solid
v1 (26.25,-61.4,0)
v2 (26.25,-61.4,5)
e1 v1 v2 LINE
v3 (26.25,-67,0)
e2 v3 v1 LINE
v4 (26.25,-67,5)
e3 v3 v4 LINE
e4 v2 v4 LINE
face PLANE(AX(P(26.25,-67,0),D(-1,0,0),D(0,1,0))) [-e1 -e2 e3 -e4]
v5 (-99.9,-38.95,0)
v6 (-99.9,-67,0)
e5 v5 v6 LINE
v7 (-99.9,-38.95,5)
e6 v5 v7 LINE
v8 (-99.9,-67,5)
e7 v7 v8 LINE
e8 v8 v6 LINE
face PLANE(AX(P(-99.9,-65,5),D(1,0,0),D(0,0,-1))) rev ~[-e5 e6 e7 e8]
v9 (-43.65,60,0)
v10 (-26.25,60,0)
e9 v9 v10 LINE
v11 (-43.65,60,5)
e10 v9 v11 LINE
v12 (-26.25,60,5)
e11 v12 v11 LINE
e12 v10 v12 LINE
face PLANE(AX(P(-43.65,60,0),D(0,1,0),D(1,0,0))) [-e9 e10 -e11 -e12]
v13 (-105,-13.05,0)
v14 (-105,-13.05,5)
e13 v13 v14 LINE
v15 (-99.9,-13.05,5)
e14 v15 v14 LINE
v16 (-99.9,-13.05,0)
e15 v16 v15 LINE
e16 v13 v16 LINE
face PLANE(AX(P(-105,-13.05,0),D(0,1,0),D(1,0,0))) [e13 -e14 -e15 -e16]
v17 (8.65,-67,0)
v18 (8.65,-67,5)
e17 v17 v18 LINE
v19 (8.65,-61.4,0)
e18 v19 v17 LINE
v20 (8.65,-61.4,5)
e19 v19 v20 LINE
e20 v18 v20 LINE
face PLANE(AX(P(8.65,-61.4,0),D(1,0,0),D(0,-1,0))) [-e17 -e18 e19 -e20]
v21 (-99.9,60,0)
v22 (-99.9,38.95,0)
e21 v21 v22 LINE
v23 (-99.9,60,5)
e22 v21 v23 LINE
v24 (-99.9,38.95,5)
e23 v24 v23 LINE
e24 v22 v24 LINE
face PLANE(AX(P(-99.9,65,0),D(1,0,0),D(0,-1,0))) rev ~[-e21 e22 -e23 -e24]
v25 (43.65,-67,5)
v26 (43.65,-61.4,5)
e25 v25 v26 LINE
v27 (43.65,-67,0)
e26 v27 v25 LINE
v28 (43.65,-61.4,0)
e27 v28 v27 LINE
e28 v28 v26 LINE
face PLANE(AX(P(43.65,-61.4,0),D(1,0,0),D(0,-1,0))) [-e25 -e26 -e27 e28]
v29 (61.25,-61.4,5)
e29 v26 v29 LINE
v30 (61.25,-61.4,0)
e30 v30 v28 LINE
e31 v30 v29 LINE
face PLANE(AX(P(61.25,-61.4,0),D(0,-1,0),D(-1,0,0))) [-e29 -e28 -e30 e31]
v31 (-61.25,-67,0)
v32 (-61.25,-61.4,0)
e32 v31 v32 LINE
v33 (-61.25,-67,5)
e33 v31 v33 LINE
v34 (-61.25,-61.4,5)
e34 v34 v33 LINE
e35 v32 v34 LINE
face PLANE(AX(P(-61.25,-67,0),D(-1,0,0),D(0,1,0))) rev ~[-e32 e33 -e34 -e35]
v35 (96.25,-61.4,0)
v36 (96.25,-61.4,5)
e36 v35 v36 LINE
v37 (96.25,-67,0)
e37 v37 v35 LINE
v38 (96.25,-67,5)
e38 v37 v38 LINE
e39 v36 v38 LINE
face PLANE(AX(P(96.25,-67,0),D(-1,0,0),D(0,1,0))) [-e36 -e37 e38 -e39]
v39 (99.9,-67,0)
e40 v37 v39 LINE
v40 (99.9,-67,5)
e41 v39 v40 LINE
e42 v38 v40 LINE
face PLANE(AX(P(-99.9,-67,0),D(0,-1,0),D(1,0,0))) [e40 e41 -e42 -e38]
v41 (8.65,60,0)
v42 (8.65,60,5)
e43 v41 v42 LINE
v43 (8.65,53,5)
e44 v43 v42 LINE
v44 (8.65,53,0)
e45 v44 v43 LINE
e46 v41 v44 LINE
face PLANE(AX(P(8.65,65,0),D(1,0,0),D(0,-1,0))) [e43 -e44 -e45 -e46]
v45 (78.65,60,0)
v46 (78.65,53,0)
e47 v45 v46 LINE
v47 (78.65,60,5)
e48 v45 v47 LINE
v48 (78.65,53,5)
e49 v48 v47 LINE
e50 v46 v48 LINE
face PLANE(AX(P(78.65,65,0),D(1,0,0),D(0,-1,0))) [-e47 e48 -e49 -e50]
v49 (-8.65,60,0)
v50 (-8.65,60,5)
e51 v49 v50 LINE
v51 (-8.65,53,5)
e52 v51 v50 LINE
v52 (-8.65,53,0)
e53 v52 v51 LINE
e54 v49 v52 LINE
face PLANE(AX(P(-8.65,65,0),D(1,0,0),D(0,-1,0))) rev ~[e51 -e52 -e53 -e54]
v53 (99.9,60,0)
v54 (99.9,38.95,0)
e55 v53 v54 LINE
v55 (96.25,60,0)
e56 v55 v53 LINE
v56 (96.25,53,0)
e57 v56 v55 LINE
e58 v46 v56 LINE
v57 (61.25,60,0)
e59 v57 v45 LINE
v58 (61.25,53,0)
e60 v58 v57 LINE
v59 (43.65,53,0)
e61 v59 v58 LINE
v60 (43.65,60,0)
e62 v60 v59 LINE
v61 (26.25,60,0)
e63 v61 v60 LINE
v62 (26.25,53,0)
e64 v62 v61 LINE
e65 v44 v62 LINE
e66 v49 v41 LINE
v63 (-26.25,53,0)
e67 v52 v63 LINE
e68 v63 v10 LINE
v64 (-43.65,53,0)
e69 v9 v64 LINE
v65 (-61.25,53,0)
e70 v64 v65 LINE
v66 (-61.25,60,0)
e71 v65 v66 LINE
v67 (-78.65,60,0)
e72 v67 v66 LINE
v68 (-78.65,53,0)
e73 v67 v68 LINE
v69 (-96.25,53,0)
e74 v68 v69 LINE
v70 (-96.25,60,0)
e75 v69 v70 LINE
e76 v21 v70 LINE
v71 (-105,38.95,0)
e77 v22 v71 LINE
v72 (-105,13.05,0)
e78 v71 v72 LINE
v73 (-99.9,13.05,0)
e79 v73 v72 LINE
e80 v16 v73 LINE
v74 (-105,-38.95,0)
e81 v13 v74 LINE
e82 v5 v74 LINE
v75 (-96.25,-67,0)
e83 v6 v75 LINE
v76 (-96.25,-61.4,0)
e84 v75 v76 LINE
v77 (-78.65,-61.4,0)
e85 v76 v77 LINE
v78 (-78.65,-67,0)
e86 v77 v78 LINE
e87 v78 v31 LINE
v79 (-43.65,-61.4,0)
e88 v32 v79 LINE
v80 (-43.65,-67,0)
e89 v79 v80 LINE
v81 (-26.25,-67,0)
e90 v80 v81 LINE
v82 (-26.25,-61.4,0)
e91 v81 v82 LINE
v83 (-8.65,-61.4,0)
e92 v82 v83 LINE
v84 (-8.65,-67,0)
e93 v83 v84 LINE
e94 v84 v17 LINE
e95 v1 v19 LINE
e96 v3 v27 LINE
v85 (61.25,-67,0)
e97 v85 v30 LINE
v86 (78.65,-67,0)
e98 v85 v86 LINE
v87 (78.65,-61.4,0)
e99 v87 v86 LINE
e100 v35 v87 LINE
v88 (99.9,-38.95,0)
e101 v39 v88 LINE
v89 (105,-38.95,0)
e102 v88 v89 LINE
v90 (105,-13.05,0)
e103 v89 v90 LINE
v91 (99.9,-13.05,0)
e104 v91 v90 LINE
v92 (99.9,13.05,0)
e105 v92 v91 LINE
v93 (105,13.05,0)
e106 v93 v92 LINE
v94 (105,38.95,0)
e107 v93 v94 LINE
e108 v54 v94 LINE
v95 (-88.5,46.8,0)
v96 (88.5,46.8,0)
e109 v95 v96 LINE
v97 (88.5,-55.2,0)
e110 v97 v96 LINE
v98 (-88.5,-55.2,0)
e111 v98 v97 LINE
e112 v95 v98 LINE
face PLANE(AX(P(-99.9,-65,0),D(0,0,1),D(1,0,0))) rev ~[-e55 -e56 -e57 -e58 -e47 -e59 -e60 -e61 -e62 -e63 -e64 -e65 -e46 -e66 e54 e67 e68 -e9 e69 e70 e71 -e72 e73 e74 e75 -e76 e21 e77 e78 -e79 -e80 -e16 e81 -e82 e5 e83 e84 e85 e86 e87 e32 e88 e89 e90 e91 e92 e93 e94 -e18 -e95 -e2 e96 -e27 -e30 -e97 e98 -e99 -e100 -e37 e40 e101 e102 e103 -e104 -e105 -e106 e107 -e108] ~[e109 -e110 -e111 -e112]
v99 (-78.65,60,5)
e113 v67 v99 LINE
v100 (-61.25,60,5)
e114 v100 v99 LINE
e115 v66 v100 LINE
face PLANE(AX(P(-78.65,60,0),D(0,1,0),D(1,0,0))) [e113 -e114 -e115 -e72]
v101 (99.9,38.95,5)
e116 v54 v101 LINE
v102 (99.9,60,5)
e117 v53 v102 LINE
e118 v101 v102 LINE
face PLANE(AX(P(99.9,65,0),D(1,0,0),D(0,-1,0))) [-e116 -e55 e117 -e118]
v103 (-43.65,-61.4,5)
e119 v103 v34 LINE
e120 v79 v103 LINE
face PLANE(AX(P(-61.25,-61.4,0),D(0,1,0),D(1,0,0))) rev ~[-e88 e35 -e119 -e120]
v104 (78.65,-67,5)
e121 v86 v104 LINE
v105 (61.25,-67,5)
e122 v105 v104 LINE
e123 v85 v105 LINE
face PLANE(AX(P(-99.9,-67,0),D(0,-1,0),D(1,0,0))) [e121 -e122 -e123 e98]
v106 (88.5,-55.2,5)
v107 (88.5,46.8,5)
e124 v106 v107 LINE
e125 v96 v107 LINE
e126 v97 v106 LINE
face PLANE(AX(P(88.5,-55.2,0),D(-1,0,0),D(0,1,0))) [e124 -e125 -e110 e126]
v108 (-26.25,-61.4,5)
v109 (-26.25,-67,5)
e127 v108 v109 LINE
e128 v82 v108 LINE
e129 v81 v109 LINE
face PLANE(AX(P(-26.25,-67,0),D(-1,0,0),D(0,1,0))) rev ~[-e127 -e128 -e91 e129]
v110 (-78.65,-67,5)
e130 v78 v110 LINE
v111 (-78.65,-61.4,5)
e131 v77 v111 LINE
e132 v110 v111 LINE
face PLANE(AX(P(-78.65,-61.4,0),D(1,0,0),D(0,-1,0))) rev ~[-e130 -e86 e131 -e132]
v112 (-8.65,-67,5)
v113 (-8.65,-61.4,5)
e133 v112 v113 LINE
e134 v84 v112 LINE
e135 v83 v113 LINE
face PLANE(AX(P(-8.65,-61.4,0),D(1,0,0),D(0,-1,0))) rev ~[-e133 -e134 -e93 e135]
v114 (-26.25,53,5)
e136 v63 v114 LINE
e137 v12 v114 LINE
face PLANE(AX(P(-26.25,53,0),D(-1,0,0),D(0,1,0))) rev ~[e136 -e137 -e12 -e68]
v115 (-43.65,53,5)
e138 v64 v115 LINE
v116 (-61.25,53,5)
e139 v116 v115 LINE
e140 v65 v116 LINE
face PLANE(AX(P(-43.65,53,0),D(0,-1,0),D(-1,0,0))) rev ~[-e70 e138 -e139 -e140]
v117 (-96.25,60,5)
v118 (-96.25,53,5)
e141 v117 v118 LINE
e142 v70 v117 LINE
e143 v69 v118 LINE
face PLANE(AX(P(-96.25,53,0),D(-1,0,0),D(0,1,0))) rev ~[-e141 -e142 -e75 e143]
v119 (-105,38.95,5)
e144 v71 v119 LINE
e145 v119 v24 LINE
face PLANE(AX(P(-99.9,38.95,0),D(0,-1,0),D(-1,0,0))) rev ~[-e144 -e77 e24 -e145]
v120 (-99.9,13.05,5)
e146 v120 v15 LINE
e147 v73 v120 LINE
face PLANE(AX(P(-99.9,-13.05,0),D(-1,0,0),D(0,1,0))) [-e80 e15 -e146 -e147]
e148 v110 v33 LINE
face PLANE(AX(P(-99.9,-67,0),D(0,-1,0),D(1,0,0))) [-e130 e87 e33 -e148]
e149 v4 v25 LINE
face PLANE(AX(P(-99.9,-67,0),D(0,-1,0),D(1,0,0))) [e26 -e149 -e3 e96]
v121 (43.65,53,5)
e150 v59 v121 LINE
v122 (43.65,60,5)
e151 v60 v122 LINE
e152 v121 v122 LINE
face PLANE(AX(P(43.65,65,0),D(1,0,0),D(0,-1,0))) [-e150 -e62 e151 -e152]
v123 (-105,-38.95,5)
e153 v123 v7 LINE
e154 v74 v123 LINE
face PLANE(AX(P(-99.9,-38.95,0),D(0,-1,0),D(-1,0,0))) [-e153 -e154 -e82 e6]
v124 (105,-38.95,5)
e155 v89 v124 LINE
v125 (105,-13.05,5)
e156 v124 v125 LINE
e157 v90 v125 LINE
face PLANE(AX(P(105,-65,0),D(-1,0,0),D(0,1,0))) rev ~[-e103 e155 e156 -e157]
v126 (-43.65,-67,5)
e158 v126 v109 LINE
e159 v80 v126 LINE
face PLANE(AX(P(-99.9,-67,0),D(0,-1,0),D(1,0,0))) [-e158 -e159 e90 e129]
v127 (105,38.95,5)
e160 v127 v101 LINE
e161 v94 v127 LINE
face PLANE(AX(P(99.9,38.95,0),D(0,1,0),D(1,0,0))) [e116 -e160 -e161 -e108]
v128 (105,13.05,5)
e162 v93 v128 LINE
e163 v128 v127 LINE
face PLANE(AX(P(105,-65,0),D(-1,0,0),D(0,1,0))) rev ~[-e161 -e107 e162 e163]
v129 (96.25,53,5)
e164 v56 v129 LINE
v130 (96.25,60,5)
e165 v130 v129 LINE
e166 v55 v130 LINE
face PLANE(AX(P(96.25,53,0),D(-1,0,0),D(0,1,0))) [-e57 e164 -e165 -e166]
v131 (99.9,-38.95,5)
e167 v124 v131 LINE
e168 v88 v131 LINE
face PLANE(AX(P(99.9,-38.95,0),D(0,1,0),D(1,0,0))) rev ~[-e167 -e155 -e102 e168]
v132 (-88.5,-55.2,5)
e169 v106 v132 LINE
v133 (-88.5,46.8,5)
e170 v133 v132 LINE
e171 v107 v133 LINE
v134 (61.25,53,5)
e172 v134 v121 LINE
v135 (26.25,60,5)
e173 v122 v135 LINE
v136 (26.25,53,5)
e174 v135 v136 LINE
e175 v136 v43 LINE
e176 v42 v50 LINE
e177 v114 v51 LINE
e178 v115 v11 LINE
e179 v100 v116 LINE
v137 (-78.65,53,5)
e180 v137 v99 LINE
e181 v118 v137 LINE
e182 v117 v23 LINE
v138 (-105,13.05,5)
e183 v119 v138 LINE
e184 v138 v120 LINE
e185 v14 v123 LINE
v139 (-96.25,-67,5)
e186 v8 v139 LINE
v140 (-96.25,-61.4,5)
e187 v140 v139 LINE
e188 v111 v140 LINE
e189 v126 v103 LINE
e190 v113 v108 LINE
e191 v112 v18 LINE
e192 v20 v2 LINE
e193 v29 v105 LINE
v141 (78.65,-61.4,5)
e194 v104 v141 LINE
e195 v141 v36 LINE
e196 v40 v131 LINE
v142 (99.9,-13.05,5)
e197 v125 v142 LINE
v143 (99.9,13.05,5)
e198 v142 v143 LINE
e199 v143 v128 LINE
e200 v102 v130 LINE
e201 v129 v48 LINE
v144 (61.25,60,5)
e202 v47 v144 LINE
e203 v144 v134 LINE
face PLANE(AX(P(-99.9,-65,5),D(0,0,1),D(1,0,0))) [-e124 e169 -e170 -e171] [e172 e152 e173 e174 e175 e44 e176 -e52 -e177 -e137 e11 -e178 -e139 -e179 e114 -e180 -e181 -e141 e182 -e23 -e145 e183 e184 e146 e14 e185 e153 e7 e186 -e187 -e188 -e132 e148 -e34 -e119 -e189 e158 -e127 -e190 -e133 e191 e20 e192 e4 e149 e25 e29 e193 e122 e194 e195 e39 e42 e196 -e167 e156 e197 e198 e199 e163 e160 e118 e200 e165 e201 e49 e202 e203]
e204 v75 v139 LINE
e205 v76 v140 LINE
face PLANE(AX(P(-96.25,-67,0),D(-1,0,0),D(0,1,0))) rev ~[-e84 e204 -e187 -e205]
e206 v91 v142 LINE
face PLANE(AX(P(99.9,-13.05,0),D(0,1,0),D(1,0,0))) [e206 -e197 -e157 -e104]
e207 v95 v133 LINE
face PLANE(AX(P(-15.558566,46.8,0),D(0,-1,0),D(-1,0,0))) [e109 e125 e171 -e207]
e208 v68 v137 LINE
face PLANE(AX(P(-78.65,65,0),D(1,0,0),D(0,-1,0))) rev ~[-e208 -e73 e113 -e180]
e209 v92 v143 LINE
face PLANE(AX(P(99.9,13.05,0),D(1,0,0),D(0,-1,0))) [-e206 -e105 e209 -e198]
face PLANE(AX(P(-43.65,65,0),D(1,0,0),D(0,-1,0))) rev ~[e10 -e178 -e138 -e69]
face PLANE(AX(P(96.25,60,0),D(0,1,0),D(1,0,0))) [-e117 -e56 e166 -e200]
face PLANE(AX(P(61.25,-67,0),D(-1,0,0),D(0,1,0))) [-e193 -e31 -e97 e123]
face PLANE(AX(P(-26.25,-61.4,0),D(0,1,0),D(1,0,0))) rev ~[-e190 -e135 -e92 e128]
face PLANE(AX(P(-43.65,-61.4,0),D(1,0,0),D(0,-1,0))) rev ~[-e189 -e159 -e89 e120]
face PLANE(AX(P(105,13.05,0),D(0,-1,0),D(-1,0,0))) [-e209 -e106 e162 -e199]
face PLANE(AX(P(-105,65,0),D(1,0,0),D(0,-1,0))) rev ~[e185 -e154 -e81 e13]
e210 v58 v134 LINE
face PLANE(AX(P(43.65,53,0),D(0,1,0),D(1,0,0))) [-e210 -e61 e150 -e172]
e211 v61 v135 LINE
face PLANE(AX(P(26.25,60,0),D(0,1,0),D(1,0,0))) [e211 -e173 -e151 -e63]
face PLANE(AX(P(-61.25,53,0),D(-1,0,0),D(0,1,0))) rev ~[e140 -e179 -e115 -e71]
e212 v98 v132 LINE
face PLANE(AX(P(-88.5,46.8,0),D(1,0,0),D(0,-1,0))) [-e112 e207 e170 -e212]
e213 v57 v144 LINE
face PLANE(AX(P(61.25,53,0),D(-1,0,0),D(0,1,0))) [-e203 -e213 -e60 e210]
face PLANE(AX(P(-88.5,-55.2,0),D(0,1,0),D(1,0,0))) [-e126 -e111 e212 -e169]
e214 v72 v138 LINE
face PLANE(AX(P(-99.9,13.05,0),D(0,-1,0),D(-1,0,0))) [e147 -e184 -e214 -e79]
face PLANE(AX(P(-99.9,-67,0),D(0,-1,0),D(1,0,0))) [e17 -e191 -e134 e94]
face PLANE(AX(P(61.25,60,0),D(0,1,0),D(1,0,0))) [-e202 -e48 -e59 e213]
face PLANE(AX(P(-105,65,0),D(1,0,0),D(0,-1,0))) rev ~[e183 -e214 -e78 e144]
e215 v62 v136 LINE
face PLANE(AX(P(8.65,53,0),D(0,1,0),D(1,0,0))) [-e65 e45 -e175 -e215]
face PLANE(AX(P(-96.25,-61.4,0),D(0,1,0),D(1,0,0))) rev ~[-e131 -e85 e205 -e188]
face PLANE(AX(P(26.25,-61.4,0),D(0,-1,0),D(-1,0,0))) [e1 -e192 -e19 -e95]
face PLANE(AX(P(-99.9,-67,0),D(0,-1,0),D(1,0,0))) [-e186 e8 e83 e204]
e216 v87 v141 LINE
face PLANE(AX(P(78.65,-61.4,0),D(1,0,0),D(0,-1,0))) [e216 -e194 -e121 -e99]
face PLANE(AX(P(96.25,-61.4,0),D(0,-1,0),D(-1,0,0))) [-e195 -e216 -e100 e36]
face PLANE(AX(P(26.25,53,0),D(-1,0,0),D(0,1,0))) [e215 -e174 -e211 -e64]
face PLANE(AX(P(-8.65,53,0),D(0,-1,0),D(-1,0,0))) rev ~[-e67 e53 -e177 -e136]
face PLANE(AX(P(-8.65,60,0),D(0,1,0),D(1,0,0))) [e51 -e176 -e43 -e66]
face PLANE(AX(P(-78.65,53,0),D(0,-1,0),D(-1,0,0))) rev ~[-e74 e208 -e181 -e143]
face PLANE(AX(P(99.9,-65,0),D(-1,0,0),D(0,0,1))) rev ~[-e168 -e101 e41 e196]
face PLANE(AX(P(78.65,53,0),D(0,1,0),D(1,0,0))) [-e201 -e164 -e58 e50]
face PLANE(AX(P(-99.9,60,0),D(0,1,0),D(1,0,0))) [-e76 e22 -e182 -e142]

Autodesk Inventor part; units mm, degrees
ref_plane "YZ Plane" through (0, 0, 0) normal (1, 0, 0) x (0, 1, 0)
ref_plane "XZ Plane" through (0, 0, 0) normal (0, 1, 0) x (-1, 0, 0)
ref_plane "XY Plane" through (0, 0, 0) normal (0, 0, 1) x (1, 0, 0)
sketch "Sketch1" plane through (0, 0, 0) normal (0, 0, 1) x (1, 0, 0)
  line L0 (-105, -65) -> (105, -65)
  line L1 (105, -65) -> (105, 65)
  line L2 (105, 65) -> (-105, 65)
  line L3 (-105, 65) -> (-105, -65)
  line L4 (-105, -65) -> (105, 65) construction
  line L5 (105, -65) -> (-105, 65) construction
  line L6 (-88.5, -51) -> (88.5, -51)
  line L7 (88.5, -51) -> (88.5, 51)
  line L8 (88.5, 51) -> (-88.5, 51)
  line L9 (-88.5, 51) -> (-88.5, -51)
  line L10 (-88.5, -51) -> (88.5, 51) construction
  line L11 (88.5, -51) -> (-88.5, 51) construction
  point P0 (0, 0)
  point P1 (-105, 0)
  dimension "d0" = 177
  dimension "d1" = 102
  dimension "d2" = 130
  dimension "d3" = 210
extrude "Extrusion1" add sketch "Sketch1" along normal blind 5 contours L3 L2 L1 L0 | L9 L8 L7 L6
sketch "Sketch2" plane through (0, 0, 5) normal (0, 0, 1) x (1, 0, 0)
  line L0 (-90, -50) -> (-80, -50) construction
  line L1 (-80, -50) -> (-80, 50)
  line L2 (-80, 50) -> (-90, 50) construction
  line L3 (-90, 50) -> (-90, -50)
  line L4 (-90, -50) -> (-80, 50) construction
  line L5 (-80, -50) -> (-90, 50) construction
  line L6 (-105, 65) -> (-105, -65) construction
  line L7 (-88.5, -51) -> (-88.5, 51) construction
  arc A0 (-80, 50) -> (-90, 50) centre (-85, 50) ccw
  arc A1 (-90, -50) -> (-80, -50) centre (-85, -50) ccw
  point P0 (0, 0)
  point P1 (-85, 0)
  dimension "d6" = 10
  dimension "d7" = 100
  dimension "d10" = 20
extrude "Extrusion2" [suppressed]
mirror "Mirror1" [suppressed]
sketch "Sketch3" plane through (0, 0, 0) normal (0, 0, -1) x (-1, 0, 0)
  line L0 (105, -65) -> (99.9, -65)
  line L1 (99.9, -65) -> (99.9, -38.95)
  line L2 (99.9, -38.95) -> (105, -38.95)
  line L3 (105, -38.95) -> (105, -65)
  line L4 (105, -13.05) -> (99.9, -13.05)
  line L5 (99.9, -13.05) -> (99.9, 13.05)
  line L6 (99.9, 13.05) -> (105, 13.05)
  line L7 (105, 13.05) -> (105, -13.05)
  line L8 (105, 65) -> (99.9, 65)
  line L9 (99.9, 65) -> (99.9, 38.95)
  line L10 (99.9, 38.95) -> (105, 38.95)
  line L11 (105, 38.95) -> (105, 65)
  line L12 (-105, -65) -> (-105, 65) projected
  line L13 (-105, 65) -> (-99.9, 65)
  line L14 (-99.9, 65) -> (-99.9, 38.95)
  line L15 (-99.9, 38.95) -> (-105, 38.95)
  line L16 (-105, 38.95) -> (-105, 65)
  line L17 (-105, 13.05) -> (-99.9, 13.05)
  line L18 (-99.9, 13.05) -> (-99.9, -13.05)
  line L19 (-99.9, -13.05) -> (-105, -13.05)
  line L20 (-105, -13.05) -> (-105, 13.05)
  line L21 (-105, -65) -> (-99.9, -65)
  line L22 (-99.9, -65) -> (-99.9, -38.95)
  line L23 (-99.9, -38.95) -> (-105, -38.95)
  line L24 (-105, -38.95) -> (-105, -65)
  line L25 (105, -65) -> (-105, -65) projected
  line L26 (-105, 65) -> (105, 65) projected
  point P0 (0, 0)
  point P1 (-105, 0)
  point P2 (-105, -13.05)
  dimension "d13" = 130
  dimension "d14" = 26.05
  dimension "d15" = 26.1
  dimension "d16" = 5.1
extrude "Extrusion3" cut sketch "Sketch3" against normal blind 10
sketch "Sketch4" plane through (-99.9, -65, 0) normal (0, -1, 0) x (1, 0, 0)
  line L0 (0, 5) -> (0, 0) projected
  line L1 (0, 0) -> (199.8, 0) projected
  line L2 (199.8, 0) -> (199.8, 5) projected
  line L3 (0, 5) -> (199.8, 5) projected
  point P0 (99.9, 0)
extrude "Extrusion4" add sketch "Sketch4" along normal blind 2
sketch "Sketch5" plane through (0, 0, 0) normal (0, 0, -1) x (-1, 0, 0)
  line L0 (99.9, 38.95) -> (99.9, 65) projected
  line L1 (-99.9, 65) -> (99.9, 65) projected
  line L2 (-99.9, 65) -> (-99.9, 38.95) projected
  line L3 (-99.9, 38.95) -> (-105, 38.95) projected
  line L4 (-105, 13.05) -> (-105, 38.95) projected
  line L5 (-105, 13.05) -> (-99.9, 13.05) projected
  line L6 (-99.9, 13.05) -> (-99.9, -13.05) projected
  line L7 (-99.9, -13.05) -> (-105, -13.05) projected
  line L8 (-105, -38.95) -> (-105, -13.05) projected
  line L9 (-105, -38.95) -> (-99.9, -38.95) projected
  line L10 (-99.9, -38.95) -> (-99.9, -67) projected
  line L11 (99.9, -67) -> (99.9, -38.95) projected
  line L12 (99.9, -38.95) -> (105, -38.95) projected
  line L13 (105, -13.05) -> (105, -38.95) projected
  line L14 (105, -13.05) -> (99.9, -13.05) projected
  line L15 (99.9, -13.05) -> (99.9, 13.05) projected
  line L16 (99.9, 13.05) -> (105, 13.05) projected
  line L17 (105, 38.95) -> (105, 13.05) projected
  line L18 (105, 38.95) -> (99.9, 38.95) projected
  line L19 (8.65, -67) -> (26.25, -67)
  line L20 (26.25, -67) -> (26.25, -61.4)
  line L21 (26.25, -61.4) -> (8.65, -61.4)
  line L22 (8.65, -61.4) -> (8.65, -67)
  line L23 (43.65, -61.4) -> (43.65, -67)
  line L24 (43.65, -67) -> (61.25, -67)
  line L25 (61.25, -61.4) -> (43.65, -61.4)
  line L26 (61.25, -67) -> (61.25, -61.4)
  line L27 (78.65, -61.4) -> (78.65, -67)
  line L28 (78.65, -67) -> (96.25, -67)
  line L29 (96.25, -61.4) -> (78.65, -61.4)
  line L30 (96.25, -67) -> (96.25, -61.4)
  line L31 (0, 0) -> (0, -124.7) construction
  line L32 (150.9327, -2.5) -> (-150.9327, -2.5) construction
  line L33 (-8.65, -67) -> (-26.25, -67)
  line L34 (-26.25, -67) -> (-26.25, -61.4)
  line L35 (-26.25, -61.4) -> (-8.65, -61.4)
  line L36 (-8.65, -61.4) -> (-8.65, -67)
  line L37 (-43.65, -61.4) -> (-43.65, -67)
  line L38 (-43.65, -67) -> (-61.25, -67)
  line L39 (-61.25, -61.4) -> (-43.65, -61.4)
  line L40 (-61.25, -67) -> (-61.25, -61.4)
  line L41 (-78.65, -61.4) -> (-78.65, -67)
  line L42 (-78.65, -67) -> (-96.25, -67)
  line L43 (-96.25, -61.4) -> (-78.65, -61.4)
  line L44 (-96.25, -67) -> (-96.25, -61.4)
  line L45 (99.9, -67) -> (-99.9, -67) projected
  line L46 (99.9, -67) -> (-99.9, -67) projected
  point P0 (17.45, -61.4)
  point P1 (52.45, -61.4)
  point P2 (87.45, -61.4)
  point P3 (0, -2.5)
  point P4 (-17.45, -61.4)
  point P5 (-52.45, -61.4)
  point P6 (-87.45, -61.4)
  dimension "d21" = 210
  dimension "d22" = 17.45
  dimension "d23" = 17.6
  dimension "d24" = 5.6
  dimension "d27" = 35
extrude "Extrusion5" cut sketch "Sketch5" against normal through all contours L28 L27 L29 L30 | L24 L23 L25 L26 | L44 L43 L41 L42 | L19 L22 L21 L20 | L40 L39 L37 L38 | L33 L34 L35 L36
sketch "Sketch7" plane through (0, 0, 0) normal (0, 0, -1) x (-1, 0, 0)
  line L0 (99.9, 53) -> (-99.9, 53) construction
  line L1 (8.65, 53) -> (26.25, 53)
  line L2 (26.25, 53) -> (26.25, 65)
  line L3 (26.25, 65) -> (8.65, 65)
  line L4 (8.65, 65) -> (8.65, 53)
  line L5 (43.65, 65) -> (43.65, 53)
  line L6 (43.65, 53) -> (61.25, 53)
  line L7 (61.25, 65) -> (43.65, 65)
  line L8 (61.25, 53) -> (61.25, 65)
  line L9 (78.65, 65) -> (78.65, 53)
  line L10 (78.65, 53) -> (96.25, 53)
  line L11 (96.25, 65) -> (78.65, 65)
  line L12 (96.25, 53) -> (96.25, 65)
  line L13 (99.9, 38.95) -> (99.9, 65) projected
  line L14 (-99.9, 65) -> (-99.9, 38.95) projected
  line L15 (-99.9, 65) -> (99.9, 65) projected
  line L16 (0, 0) -> (0, 28.7468) construction
  line L17 (-43.65, 65) -> (-43.65, 53)
  line L18 (-43.65, 53) -> (-61.25, 53)
  line L19 (-61.25, 65) -> (-43.65, 65)
  line L20 (-61.25, 53) -> (-61.25, 65)
  line L21 (-78.65, 65) -> (-78.65, 53)
  line L22 (-96.25, 65) -> (-78.65, 65)
  line L23 (-78.65, 53) -> (-96.25, 53)
  line L24 (-96.25, 53) -> (-96.25, 65)
  line L25 (-8.65, 53) -> (-26.25, 53)
  line L26 (-26.25, 53) -> (-26.25, 65)
  line L27 (-8.65, 65) -> (-8.65, 53)
  line L28 (-26.25, 65) -> (-8.65, 65)
  point P0 (0, 53)
  point P1 (17.45, 65)
  point P2 (52.45, 65)
  point P3 (87.45, 65)
  point P4 (-52.45, 65)
  point P5 (-87.45, 65)
  point P6 (-17.45, 65)
  dimension "d41" = 17.45
  dimension "d42" = 17.6
  dimension "d44" = 35
  dimension "d47" = 12
extrude "Extrusion7" cut sketch "Sketch7" against normal blind 10
sketch "Sketch8" plane through (0, 0, 0) normal (0, 0, -1) x (-1, 0, 0)
  line L0 (26.25, 65) -> (26.25, 53) projected
  line L1 (26.25, 53) -> (8.65, 53) projected
  line L2 (8.65, 53) -> (8.65, 65) projected
  line L3 (-8.65, 65) -> (8.65, 65) projected
  line L4 (-8.65, 65) -> (-8.65, 53) projected
  line L5 (-8.65, 53) -> (-26.25, 53) projected
  line L6 (-26.25, 53) -> (-26.25, 65) projected
  line L7 (-43.65, 65) -> (-26.25, 65) projected
  line L8 (-43.65, 65) -> (-43.65, 53) projected
  line L9 (-43.65, 53) -> (-61.25, 53) projected
  line L10 (-61.25, 53) -> (-61.25, 65) projected
  line L11 (-78.65, 65) -> (-61.25, 65) projected
  line L12 (-78.65, 65) -> (-78.65, 53) projected
  line L13 (-78.65, 53) -> (-96.25, 53) projected
  line L14 (-96.25, 53) -> (-96.25, 65) projected
  line L15 (-99.9, 65) -> (-96.25, 65) projected
  line L16 (-99.9, 65) -> (-99.9, 38.95) projected
  line L17 (-99.9, 38.95) -> (-105, 38.95) projected
  line L18 (-105, 13.05) -> (-105, 38.95) projected
  line L19 (-105, 13.05) -> (-99.9, 13.05) projected
  line L20 (-99.9, 13.05) -> (-99.9, -13.05) projected
  line L21 (-99.9, -13.05) -> (-105, -13.05) projected
  line L22 (-105, -38.95) -> (-105, -13.05) projected
  line L23 (-105, -38.95) -> (-99.9, -38.95) projected
  line L24 (-99.9, -38.95) -> (-99.9, -67) projected
  line L25 (-96.25, -67) -> (-99.9, -67) projected
  line L26 (-96.25, -67) -> (-96.25, -61.4) projected
  line L27 (-96.25, -61.4) -> (-78.65, -61.4) projected
  line L28 (-78.65, -61.4) -> (-78.65, -67) projected
  line L29 (-61.25, -67) -> (-78.65, -67) projected
  line L30 (-61.25, -67) -> (-61.25, -61.4) projected
  line L31 (-61.25, -61.4) -> (-43.65, -61.4) projected
  line L32 (-43.65, -61.4) -> (-43.65, -67) projected
  line L33 (-26.25, -67) -> (-43.65, -67) projected
  line L34 (-26.25, -67) -> (-26.25, -61.4) projected
  line L35 (-26.25, -61.4) -> (-8.65, -61.4) projected
  line L36 (-8.65, -61.4) -> (-8.65, -67) projected
  line L37 (8.65, -67) -> (-8.65, -67) projected
  line L38 (8.65, -67) -> (8.65, -61.4) projected
  line L39 (8.65, -61.4) -> (26.25, -61.4) projected
  line L40 (26.25, -61.4) -> (26.25, -67) projected
  line L41 (43.65, -67) -> (26.25, -67) projected
  line L42 (43.65, -67) -> (43.65, -61.4) projected
  line L43 (43.65, -61.4) -> (61.25, -61.4) projected
  line L44 (61.25, -61.4) -> (61.25, -67) projected
  line L45 (78.65, -67) -> (61.25, -67) projected
  line L46 (78.65, -67) -> (78.65, -61.4) projected
  line L47 (78.65, -61.4) -> (96.25, -61.4) projected
  line L48 (96.25, -61.4) -> (96.25, -67) projected
  line L49 (99.9, -67) -> (96.25, -67) projected
  line L50 (99.9, -67) -> (99.9, -38.95) projected
  line L51 (99.9, -38.95) -> (105, -38.95) projected
  line L52 (105, -13.05) -> (105, -38.95) projected
  line L53 (105, -13.05) -> (99.9, -13.05) projected
  line L54 (99.9, -13.05) -> (99.9, 13.05) projected
  line L55 (99.9, 13.05) -> (105, 13.05) projected
  line L56 (105, 38.95) -> (105, 13.05) projected
  line L57 (105, 38.95) -> (99.9, 38.95) projected
  line L58 (99.9, 38.95) -> (99.9, 65) projected
  line L59 (96.25, 65) -> (99.9, 65) projected
  line L60 (96.25, 65) -> (96.25, 53) projected
  line L61 (96.25, 53) -> (78.65, 53) projected
  line L62 (78.65, 53) -> (78.65, 65) projected
  line L63 (61.25, 65) -> (78.65, 65) projected
  line L64 (61.25, 65) -> (61.25, 53) projected
  line L65 (61.25, 53) -> (43.65, 53) projected
  line L66 (43.65, 53) -> (43.65, 65) projected
  line L67 (26.25, 65) -> (43.65, 65) projected
  line L68 (99.9, 60) -> (-99.9, 60)
  point P0 (0, 0)
  point P1 (-99.9, -62)
  point P2 (99.9, -62)
  point P3 (-98.075, -67)
  point P4 (-98.075, 65)
  point P5 (-8.65, 60)
  point P6 (8.65, 60)
  point P7 (-43.65, 60)
  point P8 (-26.25, 60)
  point P9 (-78.65, 60)
  point P10 (-61.25, 60)
  point P11 (-96.25, 60)
  point P12 (96.25, 60)
  point P13 (61.25, 60)
  point P14 (78.65, 60)
  point P15 (26.25, 60)
  point P16 (43.65, 60)
  dimension "d53" = 5
extrude "Extrusion8" cut sketch "Sketch8" against normal through all contours L67 L66 L68 L0 | L68 L4 L3 L2 | L64 L63 L62 L68 | L68 L8 L7 L6 | L60 L59 L58 L68 | L68 L12 L11 L10 | L68 L16 L15 L14
sketch "Sketch9" plane through (0, 0, 0) normal (0, 0, -1) x (-1, 0, 0)
  line L0 (88.5, -55.2) -> (-88.5, -55.2)
  line L1 (-88.5, -55.2) -> (-88.5, 46.8)
  line L2 (-88.5, 46.8) -> (88.5, 46.8)
  line L3 (88.5, 46.8) -> (88.5, -55.2)
  line L4 (88.5, -55.2) -> (-88.5, 46.8) construction
  line L5 (-88.5, -55.2) -> (88.5, 46.8) construction
  line L6 (-8.65, 60) -> (8.65, 60) projected
  line L7 (8.65, -67) -> (-8.65, -67) projected
  line L8 (8.65, 53) -> (26.25, 53) projected
  line L9 (17.45, 53) -> (-17.45, -61.4)
  line L10 (-8.65, -61.4) -> (-26.25, -61.4) projected
  point P0 (0, 0)
  point P1 (0, -4.2)
  dimension "d54" = 177
  dimension "d55" = 102
extrude "Extrusion9" cut sketch "Sketch9" against normal blind 5
equation "\"d27\" = 0.166667 * d21"
equation "\"d44\" = 0.166667 * d46"
equation "\"d46\" = 210"
properties part number "Frontplate" material "MDF Medium Density Fiberboard"
